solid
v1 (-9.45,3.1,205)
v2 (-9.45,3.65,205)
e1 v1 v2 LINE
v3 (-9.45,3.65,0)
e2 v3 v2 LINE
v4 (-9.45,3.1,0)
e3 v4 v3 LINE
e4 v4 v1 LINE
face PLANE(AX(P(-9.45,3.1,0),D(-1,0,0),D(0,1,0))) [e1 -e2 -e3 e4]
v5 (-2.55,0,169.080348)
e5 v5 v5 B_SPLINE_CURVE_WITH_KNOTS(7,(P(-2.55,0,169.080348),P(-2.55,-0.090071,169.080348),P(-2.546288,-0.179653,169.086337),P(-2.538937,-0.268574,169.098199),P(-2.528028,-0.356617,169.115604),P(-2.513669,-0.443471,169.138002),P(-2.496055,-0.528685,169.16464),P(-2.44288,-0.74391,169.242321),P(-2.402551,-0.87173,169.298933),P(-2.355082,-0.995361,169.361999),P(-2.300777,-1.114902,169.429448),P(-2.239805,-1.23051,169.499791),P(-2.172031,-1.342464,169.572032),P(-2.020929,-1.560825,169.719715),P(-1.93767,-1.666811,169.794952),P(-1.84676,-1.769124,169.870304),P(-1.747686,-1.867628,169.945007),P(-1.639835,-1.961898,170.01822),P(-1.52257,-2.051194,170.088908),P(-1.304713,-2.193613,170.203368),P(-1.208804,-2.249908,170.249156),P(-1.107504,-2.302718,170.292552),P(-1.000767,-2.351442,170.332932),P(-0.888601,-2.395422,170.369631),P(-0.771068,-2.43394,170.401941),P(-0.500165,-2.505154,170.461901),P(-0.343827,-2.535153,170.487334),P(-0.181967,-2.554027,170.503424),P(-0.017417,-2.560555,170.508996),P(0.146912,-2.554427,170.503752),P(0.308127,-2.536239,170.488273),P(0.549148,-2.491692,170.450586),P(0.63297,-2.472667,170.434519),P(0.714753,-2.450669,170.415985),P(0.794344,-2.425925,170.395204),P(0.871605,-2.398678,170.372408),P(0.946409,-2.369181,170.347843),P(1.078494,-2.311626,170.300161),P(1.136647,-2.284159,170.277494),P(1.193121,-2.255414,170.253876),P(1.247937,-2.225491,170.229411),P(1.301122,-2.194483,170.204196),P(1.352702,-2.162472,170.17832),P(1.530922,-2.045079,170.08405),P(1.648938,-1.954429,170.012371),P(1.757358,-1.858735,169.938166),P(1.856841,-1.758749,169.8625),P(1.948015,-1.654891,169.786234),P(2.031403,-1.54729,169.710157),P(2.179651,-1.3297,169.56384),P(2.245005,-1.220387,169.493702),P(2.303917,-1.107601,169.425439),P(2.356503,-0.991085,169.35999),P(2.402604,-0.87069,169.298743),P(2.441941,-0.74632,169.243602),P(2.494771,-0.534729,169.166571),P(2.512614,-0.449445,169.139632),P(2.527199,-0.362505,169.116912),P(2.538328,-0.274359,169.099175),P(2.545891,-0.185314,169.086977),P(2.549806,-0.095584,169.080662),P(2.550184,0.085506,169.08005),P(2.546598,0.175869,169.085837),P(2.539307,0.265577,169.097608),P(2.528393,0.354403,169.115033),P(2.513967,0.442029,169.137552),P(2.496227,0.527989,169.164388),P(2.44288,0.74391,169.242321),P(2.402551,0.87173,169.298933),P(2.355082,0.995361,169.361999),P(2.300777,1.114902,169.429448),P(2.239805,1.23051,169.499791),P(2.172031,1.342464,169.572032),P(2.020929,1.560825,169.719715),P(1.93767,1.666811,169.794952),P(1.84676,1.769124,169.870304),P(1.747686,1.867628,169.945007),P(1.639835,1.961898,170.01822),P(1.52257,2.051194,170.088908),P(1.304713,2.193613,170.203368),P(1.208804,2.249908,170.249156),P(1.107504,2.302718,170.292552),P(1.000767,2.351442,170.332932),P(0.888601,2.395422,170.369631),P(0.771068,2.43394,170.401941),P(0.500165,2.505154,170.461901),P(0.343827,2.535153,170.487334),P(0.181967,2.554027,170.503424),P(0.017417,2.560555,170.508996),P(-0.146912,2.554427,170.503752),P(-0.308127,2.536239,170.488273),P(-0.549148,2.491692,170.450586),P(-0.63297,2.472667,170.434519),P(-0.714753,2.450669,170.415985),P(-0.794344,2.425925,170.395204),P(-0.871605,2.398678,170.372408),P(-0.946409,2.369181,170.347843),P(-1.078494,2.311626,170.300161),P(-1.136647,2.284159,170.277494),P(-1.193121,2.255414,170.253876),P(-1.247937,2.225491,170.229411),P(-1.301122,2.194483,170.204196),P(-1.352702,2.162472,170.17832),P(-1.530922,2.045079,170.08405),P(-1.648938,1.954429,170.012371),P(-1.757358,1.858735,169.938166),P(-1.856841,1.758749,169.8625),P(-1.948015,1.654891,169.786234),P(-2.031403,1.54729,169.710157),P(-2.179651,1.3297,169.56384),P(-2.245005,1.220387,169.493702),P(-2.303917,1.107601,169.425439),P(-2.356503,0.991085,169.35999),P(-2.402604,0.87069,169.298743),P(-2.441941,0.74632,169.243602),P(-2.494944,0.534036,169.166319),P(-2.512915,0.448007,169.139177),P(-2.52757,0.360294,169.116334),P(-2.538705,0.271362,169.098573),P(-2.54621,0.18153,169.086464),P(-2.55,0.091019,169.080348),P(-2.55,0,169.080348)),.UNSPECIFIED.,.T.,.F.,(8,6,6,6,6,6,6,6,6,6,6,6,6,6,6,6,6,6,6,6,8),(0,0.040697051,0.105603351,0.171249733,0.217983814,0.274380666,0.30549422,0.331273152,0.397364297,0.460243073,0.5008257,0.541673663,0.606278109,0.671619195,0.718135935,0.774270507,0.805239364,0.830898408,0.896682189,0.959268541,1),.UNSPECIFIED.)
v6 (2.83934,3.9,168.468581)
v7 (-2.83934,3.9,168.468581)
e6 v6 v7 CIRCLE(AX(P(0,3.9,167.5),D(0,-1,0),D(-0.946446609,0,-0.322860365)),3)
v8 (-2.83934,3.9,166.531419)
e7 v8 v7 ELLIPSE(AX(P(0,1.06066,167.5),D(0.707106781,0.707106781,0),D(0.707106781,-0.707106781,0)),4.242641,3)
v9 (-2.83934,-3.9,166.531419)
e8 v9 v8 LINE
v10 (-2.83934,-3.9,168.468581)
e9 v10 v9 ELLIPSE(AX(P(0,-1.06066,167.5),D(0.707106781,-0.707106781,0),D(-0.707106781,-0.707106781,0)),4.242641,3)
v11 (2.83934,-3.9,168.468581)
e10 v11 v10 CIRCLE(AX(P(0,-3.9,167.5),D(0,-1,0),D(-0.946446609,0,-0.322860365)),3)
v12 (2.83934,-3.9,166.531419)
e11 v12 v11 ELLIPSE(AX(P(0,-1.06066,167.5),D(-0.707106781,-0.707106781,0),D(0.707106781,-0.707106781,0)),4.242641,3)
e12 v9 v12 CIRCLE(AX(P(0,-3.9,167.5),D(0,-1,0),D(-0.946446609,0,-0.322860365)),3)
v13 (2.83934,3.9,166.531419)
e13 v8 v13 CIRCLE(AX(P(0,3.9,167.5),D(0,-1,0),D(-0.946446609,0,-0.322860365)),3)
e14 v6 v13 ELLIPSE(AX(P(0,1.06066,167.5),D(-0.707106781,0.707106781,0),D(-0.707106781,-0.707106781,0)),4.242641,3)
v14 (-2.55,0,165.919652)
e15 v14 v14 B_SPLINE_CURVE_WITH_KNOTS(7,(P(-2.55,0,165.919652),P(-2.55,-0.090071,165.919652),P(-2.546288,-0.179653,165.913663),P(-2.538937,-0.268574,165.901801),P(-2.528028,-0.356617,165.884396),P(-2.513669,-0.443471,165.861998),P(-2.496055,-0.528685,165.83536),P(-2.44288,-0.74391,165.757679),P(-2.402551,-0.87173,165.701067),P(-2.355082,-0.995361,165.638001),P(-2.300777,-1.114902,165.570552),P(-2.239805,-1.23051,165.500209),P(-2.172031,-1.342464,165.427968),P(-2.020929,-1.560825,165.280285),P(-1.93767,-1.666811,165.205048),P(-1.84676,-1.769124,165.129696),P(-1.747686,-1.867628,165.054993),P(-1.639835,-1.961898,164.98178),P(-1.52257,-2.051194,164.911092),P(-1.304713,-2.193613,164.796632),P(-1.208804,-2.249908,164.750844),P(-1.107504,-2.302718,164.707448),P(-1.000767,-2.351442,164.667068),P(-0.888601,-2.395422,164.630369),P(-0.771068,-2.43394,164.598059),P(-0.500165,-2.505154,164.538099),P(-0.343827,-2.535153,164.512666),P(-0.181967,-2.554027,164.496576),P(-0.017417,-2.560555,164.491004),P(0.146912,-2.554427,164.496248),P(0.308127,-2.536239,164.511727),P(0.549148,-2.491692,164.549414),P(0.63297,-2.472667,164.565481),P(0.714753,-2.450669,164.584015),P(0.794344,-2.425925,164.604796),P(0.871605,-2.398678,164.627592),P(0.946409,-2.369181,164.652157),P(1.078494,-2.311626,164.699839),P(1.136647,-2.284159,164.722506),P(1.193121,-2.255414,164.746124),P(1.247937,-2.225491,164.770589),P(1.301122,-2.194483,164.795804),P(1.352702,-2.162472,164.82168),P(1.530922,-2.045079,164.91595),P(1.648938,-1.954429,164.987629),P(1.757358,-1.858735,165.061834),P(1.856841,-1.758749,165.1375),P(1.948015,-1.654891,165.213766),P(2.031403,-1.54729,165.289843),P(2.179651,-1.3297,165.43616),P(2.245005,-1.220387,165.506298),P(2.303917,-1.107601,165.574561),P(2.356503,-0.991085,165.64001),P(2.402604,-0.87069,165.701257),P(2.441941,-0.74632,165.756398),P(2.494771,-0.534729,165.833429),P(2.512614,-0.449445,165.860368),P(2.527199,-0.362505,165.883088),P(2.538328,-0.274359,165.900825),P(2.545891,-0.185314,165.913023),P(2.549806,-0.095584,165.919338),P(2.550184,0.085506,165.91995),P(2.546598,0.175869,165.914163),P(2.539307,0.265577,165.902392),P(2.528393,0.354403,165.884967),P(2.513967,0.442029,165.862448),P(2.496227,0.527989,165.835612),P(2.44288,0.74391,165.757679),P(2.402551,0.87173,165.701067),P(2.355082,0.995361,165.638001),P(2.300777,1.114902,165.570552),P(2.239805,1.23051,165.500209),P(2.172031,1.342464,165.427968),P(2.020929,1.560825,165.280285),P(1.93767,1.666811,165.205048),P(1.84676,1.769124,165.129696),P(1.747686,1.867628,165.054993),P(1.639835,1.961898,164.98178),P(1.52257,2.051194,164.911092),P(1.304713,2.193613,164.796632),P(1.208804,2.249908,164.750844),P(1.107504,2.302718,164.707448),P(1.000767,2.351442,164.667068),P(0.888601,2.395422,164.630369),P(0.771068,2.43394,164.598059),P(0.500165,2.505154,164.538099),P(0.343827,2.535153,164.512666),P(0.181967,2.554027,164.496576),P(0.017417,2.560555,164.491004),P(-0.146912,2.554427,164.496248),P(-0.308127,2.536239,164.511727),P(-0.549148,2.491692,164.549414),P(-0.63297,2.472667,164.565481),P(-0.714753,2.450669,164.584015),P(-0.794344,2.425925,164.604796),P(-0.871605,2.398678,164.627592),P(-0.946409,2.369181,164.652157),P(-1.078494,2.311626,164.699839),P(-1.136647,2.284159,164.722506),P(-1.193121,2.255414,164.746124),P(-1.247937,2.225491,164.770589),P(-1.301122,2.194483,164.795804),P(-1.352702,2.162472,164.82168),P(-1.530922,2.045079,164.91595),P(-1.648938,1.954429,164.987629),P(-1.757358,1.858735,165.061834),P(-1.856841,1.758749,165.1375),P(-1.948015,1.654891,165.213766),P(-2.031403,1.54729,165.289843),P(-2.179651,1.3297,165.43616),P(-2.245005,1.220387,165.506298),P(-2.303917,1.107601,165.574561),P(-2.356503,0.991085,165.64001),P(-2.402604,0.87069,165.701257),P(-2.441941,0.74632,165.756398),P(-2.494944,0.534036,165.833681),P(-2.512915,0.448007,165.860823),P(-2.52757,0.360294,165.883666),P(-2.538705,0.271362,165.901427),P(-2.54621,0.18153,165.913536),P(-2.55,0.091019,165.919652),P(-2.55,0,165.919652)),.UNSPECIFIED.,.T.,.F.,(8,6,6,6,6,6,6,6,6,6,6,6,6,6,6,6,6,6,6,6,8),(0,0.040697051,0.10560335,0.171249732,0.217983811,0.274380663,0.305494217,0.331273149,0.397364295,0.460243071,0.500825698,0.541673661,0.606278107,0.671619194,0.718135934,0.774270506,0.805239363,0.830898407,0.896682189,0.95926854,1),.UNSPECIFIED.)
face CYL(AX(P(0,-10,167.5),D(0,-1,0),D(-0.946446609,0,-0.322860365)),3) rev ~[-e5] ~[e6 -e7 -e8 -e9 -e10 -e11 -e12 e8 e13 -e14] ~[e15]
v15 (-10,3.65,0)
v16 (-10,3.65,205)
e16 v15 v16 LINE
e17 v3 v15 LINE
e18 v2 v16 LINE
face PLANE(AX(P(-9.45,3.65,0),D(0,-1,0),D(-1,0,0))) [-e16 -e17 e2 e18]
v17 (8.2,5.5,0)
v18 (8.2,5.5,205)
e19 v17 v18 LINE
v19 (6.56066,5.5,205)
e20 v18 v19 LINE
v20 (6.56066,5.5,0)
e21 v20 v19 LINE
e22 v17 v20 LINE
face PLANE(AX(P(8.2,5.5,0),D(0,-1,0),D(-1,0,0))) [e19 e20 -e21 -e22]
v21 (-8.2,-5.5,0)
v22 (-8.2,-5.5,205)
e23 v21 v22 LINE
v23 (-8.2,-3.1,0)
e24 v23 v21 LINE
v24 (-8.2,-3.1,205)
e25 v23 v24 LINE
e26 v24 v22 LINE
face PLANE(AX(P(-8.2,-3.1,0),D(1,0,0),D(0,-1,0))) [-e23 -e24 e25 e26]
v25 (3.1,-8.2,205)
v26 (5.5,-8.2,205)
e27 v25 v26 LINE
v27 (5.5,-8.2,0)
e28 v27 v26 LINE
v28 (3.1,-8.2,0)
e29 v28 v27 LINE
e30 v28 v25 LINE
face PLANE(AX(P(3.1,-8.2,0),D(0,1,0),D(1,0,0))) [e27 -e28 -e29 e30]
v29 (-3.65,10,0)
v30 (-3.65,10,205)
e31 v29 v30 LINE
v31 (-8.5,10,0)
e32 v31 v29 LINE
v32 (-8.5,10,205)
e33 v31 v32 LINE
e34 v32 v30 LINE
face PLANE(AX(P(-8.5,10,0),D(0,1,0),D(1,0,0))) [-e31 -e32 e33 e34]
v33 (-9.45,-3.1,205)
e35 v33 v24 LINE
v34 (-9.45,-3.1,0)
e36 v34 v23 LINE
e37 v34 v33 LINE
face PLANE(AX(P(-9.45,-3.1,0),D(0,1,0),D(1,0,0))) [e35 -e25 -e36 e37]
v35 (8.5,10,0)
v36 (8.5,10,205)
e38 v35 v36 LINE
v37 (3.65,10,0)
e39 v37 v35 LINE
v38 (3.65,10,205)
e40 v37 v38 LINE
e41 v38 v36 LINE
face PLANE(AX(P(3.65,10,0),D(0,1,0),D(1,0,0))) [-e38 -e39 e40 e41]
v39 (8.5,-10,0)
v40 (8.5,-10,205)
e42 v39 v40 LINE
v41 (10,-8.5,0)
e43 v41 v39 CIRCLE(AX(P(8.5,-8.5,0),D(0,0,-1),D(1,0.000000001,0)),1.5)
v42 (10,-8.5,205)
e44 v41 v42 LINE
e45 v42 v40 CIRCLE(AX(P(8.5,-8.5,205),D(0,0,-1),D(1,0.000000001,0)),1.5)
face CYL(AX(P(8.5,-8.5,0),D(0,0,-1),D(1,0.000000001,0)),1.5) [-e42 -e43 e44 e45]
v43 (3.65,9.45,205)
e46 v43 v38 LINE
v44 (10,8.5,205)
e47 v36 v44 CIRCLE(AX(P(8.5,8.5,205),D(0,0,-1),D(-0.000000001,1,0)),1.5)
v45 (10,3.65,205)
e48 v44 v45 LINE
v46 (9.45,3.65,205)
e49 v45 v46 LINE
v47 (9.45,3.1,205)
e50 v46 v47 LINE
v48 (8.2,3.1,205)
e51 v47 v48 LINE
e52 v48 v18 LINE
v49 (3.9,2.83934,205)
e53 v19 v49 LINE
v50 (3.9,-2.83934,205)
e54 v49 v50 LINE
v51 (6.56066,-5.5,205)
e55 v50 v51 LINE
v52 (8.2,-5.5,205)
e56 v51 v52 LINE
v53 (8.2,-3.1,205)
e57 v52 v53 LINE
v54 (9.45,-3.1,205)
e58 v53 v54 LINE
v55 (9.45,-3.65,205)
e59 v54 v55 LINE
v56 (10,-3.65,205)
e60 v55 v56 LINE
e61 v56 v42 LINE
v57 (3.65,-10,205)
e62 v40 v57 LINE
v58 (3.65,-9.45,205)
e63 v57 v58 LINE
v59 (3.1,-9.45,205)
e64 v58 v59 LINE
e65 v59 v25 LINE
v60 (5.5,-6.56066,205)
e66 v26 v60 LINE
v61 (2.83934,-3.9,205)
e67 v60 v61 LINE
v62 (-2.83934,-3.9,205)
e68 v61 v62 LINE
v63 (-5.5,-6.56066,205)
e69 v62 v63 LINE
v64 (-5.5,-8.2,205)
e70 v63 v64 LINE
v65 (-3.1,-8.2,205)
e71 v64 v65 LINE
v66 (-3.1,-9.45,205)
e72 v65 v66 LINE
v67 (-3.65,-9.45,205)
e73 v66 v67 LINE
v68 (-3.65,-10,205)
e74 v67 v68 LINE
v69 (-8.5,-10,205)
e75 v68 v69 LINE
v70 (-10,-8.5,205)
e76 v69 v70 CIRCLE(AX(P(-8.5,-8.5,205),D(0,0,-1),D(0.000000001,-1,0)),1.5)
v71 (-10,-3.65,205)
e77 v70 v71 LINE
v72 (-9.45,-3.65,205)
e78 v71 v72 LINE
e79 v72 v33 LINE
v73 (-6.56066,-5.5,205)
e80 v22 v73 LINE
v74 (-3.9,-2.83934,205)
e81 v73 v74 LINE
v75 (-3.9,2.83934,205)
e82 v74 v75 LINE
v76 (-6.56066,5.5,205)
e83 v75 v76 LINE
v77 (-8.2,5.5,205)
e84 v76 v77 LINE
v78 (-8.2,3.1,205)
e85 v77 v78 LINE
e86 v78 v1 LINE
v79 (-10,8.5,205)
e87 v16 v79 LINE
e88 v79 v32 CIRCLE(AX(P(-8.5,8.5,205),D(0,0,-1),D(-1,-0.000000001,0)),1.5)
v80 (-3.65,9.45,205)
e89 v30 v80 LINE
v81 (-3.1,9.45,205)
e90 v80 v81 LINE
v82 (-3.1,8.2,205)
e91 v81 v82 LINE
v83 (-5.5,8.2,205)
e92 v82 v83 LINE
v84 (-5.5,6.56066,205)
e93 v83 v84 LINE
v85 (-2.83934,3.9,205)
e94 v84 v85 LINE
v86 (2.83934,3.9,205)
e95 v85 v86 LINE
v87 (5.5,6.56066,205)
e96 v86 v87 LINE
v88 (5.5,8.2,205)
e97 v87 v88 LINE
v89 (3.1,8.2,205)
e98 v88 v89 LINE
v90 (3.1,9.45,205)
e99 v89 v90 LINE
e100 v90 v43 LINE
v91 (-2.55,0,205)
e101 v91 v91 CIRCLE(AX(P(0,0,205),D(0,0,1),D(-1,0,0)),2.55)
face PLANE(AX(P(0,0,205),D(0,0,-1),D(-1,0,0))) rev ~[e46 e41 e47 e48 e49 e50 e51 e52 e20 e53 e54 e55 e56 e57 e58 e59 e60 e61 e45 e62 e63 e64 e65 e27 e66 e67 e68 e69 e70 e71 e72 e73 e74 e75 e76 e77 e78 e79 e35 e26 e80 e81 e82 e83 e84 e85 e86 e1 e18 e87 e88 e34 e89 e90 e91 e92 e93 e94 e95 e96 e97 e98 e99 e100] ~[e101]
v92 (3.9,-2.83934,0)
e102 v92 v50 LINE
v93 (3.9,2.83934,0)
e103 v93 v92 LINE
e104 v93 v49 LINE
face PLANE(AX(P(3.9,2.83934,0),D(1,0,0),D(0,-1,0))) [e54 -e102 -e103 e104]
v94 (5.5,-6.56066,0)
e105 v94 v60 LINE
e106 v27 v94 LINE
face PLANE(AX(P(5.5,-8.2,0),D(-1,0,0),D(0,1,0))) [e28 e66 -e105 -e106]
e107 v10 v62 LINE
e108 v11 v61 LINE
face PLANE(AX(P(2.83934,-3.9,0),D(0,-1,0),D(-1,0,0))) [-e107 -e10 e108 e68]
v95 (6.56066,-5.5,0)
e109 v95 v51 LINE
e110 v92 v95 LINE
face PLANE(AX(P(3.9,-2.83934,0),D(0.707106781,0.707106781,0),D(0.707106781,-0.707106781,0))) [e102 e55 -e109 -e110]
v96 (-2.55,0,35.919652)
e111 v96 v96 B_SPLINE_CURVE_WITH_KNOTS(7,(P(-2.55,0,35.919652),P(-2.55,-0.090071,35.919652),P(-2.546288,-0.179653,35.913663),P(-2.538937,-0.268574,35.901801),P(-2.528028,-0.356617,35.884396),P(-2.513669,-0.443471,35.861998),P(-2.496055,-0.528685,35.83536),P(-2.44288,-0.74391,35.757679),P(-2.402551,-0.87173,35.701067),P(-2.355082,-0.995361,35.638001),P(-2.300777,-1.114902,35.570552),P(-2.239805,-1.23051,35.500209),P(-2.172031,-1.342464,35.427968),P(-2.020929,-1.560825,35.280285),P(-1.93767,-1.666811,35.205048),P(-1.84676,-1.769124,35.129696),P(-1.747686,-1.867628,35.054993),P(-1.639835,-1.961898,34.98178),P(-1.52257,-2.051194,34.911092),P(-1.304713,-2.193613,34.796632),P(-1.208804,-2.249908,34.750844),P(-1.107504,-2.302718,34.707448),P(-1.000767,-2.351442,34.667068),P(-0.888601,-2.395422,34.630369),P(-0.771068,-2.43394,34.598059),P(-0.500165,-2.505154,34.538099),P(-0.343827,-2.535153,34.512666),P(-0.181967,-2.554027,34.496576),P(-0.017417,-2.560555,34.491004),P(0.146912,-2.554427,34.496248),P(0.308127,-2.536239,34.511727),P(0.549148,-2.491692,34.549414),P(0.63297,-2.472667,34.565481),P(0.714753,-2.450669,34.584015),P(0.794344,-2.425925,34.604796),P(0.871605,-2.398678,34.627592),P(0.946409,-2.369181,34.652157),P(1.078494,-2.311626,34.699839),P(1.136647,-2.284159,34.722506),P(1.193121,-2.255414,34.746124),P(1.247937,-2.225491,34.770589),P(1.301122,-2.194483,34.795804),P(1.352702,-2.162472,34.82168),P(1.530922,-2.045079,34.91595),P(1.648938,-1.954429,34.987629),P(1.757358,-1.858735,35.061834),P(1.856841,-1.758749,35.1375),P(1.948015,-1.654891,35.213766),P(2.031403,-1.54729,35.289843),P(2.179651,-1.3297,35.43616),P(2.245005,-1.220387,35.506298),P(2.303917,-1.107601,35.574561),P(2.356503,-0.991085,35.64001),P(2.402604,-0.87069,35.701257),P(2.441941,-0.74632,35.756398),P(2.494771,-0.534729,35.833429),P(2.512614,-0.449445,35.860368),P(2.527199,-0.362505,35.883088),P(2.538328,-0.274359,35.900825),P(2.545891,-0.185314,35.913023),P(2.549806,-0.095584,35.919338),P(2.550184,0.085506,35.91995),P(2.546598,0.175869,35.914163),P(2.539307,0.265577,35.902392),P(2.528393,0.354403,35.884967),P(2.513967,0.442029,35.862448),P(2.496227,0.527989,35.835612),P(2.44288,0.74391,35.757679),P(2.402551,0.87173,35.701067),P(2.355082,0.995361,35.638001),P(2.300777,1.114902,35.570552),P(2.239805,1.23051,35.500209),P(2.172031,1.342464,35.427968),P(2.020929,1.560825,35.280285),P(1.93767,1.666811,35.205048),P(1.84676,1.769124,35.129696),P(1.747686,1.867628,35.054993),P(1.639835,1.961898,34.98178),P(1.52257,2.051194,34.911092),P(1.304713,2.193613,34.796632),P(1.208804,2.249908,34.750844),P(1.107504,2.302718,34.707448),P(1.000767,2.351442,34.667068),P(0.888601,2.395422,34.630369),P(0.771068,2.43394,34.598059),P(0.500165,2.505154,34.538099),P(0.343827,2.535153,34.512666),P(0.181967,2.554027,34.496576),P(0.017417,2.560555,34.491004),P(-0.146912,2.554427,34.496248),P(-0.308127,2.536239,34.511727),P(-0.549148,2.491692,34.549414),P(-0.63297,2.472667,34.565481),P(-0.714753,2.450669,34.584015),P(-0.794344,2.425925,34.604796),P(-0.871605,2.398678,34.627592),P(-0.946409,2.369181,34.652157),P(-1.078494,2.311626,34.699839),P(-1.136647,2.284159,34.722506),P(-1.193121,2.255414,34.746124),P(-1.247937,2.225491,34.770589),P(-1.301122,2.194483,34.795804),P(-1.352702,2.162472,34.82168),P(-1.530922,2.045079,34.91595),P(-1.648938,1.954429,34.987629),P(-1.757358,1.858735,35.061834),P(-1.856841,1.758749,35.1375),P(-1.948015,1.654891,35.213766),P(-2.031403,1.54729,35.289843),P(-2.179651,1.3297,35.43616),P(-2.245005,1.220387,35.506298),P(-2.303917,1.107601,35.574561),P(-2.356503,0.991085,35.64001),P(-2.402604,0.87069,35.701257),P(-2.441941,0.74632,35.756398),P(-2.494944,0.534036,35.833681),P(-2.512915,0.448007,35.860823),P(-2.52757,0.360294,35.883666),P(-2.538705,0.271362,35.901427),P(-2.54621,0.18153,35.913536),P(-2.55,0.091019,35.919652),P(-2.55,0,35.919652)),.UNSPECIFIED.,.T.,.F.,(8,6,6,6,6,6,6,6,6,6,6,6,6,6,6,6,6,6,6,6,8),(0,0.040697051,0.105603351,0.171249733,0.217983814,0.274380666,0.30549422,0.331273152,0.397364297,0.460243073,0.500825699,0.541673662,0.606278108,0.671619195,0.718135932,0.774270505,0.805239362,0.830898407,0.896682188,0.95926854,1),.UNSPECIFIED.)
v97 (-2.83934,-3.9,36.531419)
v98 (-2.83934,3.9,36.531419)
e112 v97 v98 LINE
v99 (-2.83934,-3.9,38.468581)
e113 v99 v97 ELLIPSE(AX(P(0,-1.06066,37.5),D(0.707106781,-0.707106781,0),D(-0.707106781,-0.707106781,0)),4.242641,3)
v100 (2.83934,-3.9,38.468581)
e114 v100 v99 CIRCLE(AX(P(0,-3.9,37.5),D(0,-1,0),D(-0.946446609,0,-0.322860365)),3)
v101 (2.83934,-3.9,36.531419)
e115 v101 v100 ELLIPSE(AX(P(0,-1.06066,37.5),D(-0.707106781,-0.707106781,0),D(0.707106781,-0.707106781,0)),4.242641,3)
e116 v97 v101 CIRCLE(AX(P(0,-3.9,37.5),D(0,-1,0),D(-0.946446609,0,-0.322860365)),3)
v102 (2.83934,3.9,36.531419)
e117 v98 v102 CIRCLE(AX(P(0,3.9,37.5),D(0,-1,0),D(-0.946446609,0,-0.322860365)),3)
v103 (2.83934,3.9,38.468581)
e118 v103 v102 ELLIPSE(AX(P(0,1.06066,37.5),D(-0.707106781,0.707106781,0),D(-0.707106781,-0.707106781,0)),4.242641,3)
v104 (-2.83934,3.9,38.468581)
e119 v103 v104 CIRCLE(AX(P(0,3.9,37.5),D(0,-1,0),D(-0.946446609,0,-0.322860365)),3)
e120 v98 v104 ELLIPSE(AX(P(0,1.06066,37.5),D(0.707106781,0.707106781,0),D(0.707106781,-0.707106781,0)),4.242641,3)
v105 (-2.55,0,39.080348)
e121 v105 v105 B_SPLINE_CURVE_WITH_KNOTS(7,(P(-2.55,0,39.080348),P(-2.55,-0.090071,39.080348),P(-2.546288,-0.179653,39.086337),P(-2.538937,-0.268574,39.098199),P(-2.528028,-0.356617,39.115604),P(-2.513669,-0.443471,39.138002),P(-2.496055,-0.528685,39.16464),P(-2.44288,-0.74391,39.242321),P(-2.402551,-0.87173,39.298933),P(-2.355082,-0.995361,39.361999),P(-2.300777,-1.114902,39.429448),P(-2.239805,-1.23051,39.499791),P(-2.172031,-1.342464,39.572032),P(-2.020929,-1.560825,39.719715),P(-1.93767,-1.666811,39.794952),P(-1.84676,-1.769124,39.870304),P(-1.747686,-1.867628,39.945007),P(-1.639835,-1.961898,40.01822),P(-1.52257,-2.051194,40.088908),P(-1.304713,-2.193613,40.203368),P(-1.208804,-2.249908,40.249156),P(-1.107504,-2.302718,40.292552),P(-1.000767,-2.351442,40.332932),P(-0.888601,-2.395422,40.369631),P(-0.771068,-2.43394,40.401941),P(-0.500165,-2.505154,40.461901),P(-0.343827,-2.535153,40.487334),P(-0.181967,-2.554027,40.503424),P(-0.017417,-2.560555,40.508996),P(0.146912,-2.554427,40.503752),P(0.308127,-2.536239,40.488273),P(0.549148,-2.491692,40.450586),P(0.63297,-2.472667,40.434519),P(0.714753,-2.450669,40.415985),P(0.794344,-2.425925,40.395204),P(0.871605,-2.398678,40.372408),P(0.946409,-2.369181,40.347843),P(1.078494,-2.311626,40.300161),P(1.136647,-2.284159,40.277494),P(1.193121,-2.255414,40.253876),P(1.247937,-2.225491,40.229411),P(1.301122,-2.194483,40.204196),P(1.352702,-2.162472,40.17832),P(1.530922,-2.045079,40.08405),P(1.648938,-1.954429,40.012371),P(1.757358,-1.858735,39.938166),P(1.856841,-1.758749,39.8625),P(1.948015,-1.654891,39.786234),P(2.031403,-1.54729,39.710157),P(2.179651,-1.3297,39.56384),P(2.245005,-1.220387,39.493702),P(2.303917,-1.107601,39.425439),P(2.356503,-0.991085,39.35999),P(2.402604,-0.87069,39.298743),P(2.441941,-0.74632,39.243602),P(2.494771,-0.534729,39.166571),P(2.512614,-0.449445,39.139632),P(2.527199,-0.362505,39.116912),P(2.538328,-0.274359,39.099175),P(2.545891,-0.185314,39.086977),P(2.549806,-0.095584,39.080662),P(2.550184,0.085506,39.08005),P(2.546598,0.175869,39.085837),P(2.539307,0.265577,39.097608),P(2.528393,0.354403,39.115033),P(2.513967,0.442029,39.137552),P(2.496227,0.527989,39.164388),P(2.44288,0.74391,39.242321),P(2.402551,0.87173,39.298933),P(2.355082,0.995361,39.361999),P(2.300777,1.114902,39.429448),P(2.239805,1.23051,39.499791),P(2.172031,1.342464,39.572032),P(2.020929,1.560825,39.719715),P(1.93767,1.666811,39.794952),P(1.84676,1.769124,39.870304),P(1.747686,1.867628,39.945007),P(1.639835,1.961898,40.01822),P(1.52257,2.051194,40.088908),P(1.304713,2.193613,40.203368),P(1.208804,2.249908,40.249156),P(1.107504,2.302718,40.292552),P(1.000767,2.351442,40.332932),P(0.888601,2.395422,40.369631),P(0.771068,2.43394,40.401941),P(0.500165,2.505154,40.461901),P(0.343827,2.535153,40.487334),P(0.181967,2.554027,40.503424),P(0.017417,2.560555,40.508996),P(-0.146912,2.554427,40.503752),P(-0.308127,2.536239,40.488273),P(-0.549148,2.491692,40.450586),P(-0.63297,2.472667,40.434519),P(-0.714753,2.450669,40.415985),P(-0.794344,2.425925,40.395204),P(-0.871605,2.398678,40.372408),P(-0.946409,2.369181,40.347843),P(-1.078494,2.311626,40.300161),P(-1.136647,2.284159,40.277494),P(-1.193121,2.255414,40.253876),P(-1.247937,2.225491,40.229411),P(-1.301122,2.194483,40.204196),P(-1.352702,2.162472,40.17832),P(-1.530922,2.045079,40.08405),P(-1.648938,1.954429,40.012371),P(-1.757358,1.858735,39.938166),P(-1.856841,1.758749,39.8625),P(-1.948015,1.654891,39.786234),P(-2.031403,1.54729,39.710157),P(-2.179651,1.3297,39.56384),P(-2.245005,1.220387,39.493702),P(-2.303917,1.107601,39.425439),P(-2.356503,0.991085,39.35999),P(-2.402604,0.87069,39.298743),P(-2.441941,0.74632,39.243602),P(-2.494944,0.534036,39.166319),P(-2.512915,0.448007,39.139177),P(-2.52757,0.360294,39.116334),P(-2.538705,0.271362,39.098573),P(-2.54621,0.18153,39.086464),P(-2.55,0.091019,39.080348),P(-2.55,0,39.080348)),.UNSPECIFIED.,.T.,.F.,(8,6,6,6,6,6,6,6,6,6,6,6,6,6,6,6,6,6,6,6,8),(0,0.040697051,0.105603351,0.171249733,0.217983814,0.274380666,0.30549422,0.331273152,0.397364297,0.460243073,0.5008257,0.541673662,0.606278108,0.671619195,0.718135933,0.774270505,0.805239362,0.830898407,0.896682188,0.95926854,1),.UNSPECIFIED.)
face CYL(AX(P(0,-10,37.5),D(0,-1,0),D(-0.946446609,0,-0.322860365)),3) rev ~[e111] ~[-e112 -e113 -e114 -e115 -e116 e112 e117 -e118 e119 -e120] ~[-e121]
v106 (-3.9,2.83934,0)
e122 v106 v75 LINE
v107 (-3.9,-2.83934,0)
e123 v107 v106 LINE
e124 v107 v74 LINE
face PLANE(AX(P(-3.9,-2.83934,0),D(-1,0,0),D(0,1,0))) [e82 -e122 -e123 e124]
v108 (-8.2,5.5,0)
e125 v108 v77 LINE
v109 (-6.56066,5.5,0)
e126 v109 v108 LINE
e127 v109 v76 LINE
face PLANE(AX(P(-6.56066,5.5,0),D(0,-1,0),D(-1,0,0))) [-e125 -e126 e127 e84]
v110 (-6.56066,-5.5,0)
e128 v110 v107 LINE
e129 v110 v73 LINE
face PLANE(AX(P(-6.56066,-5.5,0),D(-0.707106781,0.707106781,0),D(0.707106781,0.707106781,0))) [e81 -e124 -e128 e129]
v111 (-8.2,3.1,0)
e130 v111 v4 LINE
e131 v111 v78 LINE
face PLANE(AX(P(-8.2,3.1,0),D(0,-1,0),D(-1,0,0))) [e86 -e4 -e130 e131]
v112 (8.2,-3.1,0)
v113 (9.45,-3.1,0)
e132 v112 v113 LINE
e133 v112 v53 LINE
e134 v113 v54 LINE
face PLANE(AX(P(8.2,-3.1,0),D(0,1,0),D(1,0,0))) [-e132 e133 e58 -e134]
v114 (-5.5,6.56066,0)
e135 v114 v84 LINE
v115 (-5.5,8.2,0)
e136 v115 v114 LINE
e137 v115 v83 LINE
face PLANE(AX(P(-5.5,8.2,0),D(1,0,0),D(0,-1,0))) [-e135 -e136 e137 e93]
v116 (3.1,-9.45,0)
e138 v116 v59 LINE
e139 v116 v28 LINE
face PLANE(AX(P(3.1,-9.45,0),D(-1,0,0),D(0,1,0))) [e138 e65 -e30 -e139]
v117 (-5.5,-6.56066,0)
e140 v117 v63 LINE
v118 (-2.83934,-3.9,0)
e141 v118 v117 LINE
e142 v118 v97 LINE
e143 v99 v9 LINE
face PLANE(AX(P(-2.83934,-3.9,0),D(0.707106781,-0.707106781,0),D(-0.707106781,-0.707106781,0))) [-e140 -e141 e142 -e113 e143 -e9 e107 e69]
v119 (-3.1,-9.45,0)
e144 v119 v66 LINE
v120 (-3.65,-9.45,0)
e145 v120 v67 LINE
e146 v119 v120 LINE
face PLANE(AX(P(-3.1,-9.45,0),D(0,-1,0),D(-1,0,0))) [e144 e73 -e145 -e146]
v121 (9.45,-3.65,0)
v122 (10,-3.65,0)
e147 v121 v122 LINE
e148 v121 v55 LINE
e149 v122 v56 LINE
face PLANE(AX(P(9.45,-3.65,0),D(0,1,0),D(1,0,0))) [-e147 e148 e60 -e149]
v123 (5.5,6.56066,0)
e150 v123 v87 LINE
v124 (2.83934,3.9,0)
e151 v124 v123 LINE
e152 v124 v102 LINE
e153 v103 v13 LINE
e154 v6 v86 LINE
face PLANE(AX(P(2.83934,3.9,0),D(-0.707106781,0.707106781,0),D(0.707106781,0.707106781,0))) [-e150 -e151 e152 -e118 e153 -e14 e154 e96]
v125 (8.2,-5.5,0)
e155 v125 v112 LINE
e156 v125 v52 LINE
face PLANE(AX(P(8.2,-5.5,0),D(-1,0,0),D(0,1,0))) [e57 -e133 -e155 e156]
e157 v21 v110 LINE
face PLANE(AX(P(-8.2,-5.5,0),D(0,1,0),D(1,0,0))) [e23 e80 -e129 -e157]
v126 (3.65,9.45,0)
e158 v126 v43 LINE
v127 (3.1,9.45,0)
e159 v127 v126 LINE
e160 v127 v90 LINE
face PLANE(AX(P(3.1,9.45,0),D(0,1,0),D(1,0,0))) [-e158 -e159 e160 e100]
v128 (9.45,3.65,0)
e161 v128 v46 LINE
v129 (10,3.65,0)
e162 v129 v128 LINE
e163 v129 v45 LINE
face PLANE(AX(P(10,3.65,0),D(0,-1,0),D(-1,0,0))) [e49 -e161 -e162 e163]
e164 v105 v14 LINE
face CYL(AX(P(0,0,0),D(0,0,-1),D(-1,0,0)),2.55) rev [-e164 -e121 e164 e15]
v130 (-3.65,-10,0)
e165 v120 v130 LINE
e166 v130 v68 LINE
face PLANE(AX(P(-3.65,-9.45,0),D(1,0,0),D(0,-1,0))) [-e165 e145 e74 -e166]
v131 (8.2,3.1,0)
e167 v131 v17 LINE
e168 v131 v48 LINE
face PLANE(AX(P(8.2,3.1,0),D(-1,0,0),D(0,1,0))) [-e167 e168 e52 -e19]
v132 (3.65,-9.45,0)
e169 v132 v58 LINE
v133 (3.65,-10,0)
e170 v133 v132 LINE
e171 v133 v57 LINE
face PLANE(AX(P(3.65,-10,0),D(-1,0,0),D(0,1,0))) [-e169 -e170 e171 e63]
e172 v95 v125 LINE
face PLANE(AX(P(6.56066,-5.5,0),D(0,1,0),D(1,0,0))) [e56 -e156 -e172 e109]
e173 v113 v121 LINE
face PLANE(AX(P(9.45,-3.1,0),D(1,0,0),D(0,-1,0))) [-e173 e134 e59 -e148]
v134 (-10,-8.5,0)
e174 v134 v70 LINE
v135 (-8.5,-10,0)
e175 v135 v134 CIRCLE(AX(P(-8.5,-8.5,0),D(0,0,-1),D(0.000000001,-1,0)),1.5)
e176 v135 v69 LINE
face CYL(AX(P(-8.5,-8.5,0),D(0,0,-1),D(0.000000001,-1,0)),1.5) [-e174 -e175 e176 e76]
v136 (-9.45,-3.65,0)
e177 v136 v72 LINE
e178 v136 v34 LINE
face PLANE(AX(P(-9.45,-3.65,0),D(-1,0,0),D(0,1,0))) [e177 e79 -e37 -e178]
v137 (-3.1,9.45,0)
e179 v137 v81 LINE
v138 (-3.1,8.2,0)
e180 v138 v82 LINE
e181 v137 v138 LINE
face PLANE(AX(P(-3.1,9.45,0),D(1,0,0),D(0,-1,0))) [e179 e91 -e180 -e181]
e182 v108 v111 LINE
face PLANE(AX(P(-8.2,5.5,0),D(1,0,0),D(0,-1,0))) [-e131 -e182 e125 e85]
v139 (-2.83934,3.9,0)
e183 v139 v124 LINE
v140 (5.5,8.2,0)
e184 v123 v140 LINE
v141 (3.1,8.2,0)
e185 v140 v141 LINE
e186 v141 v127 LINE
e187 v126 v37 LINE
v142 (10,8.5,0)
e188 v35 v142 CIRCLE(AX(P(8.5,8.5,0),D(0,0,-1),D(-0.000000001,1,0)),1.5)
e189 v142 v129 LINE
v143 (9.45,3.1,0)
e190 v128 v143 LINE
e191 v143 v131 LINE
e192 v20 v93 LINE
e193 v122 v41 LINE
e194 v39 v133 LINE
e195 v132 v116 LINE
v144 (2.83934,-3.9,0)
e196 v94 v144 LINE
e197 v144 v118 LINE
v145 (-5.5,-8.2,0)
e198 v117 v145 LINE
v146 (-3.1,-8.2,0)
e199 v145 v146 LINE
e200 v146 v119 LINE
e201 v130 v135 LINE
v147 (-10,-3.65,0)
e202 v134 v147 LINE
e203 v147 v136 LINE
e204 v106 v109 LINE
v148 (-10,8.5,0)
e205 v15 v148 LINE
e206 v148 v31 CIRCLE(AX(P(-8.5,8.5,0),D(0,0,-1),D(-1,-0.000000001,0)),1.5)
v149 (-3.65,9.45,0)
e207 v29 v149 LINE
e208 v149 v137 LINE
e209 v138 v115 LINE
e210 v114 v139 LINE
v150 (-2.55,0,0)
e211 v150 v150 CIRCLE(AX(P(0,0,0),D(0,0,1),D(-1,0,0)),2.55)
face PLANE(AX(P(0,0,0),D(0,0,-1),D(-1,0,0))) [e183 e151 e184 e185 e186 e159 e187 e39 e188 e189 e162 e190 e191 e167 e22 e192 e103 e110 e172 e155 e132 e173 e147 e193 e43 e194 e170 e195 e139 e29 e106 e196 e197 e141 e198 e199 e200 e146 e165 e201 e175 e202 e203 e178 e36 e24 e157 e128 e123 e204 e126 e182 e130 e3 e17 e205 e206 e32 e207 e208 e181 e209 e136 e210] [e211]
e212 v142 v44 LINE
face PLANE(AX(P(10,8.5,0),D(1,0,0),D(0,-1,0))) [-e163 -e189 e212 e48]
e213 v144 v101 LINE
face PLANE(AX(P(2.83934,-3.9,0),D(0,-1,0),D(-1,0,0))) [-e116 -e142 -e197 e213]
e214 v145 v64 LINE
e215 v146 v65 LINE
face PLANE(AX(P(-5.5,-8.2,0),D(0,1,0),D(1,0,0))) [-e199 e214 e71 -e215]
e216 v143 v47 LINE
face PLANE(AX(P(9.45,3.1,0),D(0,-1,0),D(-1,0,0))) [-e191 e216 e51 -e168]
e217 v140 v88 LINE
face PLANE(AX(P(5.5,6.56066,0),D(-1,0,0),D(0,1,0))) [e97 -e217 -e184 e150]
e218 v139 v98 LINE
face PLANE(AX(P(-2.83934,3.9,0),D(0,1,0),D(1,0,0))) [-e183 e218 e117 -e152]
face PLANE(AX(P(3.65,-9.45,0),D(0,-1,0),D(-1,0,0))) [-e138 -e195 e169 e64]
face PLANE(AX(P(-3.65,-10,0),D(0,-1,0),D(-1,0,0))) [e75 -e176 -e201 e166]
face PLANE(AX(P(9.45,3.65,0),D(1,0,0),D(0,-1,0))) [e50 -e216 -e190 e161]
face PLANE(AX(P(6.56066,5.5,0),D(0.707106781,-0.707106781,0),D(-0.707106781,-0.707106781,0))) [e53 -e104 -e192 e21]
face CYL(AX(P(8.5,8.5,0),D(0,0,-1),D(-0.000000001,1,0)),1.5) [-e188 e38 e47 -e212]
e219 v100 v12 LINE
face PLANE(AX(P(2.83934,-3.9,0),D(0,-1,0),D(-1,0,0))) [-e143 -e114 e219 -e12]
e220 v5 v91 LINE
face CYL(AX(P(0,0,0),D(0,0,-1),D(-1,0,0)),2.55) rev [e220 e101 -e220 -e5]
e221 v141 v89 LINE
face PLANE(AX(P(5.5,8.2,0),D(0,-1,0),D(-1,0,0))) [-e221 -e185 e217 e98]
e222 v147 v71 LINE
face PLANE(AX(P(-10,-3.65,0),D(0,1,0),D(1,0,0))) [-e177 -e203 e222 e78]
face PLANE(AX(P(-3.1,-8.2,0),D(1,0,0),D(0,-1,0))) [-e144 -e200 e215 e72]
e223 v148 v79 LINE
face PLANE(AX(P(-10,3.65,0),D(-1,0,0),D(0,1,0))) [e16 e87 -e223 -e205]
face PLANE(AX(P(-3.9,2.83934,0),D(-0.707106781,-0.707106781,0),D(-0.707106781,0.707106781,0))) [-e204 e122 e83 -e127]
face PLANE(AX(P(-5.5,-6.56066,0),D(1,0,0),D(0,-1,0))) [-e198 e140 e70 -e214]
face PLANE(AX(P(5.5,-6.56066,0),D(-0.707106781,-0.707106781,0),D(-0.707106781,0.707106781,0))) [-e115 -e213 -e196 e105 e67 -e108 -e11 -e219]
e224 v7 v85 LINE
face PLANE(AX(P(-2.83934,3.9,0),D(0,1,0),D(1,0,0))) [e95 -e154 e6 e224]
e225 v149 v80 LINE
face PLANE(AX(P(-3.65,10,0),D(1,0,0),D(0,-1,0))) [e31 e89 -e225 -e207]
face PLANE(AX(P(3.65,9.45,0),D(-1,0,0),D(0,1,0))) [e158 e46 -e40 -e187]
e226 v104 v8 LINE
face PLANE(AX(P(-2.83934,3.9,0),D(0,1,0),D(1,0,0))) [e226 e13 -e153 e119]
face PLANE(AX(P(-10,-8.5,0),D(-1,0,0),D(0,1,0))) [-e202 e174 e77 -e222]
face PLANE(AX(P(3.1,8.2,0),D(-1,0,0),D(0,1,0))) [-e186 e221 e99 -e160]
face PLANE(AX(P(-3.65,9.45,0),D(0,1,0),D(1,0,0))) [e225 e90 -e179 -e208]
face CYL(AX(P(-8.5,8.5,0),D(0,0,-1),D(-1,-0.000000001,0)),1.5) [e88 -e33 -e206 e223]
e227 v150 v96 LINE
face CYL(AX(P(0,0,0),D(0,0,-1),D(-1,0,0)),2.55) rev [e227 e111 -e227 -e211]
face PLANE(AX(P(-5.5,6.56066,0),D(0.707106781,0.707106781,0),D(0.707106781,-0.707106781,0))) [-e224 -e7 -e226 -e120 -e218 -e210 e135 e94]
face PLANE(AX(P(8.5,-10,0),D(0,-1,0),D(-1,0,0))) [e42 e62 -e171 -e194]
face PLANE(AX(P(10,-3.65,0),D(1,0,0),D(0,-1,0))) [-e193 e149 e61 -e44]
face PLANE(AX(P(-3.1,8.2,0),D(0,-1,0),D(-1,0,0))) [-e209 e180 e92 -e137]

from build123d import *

# Parameters (mm, degrees)
SKETCH_2_R          = 2.55
EXTRUDE_1_DEPTH     = 205
SKETCH_3_R          = 3
CUT_EXTRUDE_1_DEPTH = 207.215906273


with BuildPart() as part:
    # 草图2 → 凸台-拉伸1 (new body)
    with BuildSketch(Plane.XY):
        with BuildLine():
            Line((-3.9, 2.839339828), (-6.560660172, 5.5))
            Line((-6.560660172, 5.5), (-8.2, 5.5))
            Line((-8.2, 5.5), (-8.2, 3.1))
            Line((-8.2, 3.1), (-9.45, 3.1))
            Line((-9.45, 3.1), (-9.45, 3.65))
            Line((-9.45, 3.65), (-10, 3.65))
            Line((-10, 3.65), (-10, 8.5))
            ThreePointArc((-10, 8.5), (-9.560660172, 9.560660172), (-8.5, 10))
            Line((-8.5, 10), (-3.65, 10))
            Line((-3.65, 10), (-3.65, 9.45))
            Line((-3.65, 9.45), (-3.1, 9.45))
            Line((-3.1, 9.45), (-3.1, 8.2))
            Line((-3.1, 8.2), (-5.5, 8.2))
            Line((-5.5, 8.2), (-5.5, 6.560660172))
            Line((-5.5, 6.560660172), (-2.839339828, 3.9))
            Line((-2.839339828, 3.9), (2.839339828, 3.9))
            Line((2.839339828, 3.9), (5.5, 6.560660172))
            Line((5.5, 6.560660172), (5.5, 8.2))
            Line((5.5, 8.2), (3.1, 8.2))
            Line((3.1, 8.2), (3.1, 9.45))
            Line((3.1, 9.45), (3.65, 9.45))
            Line((3.65, 9.45), (3.65, 10))
            Line((3.65, 10), (8.5, 10))
            ThreePointArc((8.5, 10), (9.560660172, 9.560660172), (10, 8.5))
            Line((10, 8.5), (10, 3.65))
            Line((10, 3.65), (9.45, 3.65))
            Line((9.45, 3.65), (9.45, 3.1))
            Line((9.45, 3.1), (8.2, 3.1))
            Line((8.2, 3.1), (8.2, 5.5))
            Line((8.2, 5.5), (6.560660172, 5.5))
            Line((6.560660172, 5.5), (3.9, 2.839339828))
            Line((3.9, 2.839339828), (3.9, -2.839339828))
            Line((3.9, -2.839339828), (6.560660172, -5.5))
            Line((6.560660172, -5.5), (8.2, -5.5))
            Line((8.2, -5.5), (8.2, -3.1))
            Line((8.2, -3.1), (9.45, -3.1))
            Line((9.45, -3.1), (9.45, -3.65))
            Line((9.45, -3.65), (10, -3.65))
            Line((10, -3.65), (10, -8.5))
            ThreePointArc((10, -8.5), (9.560660172, -9.560660172), (8.5, -10))
            Line((8.5, -10), (3.65, -10))
            Line((3.65, -10), (3.65, -9.45))
            Line((3.65, -9.45), (3.1, -9.45))
            Line((3.1, -9.45), (3.1, -8.2))
            Line((3.1, -8.2), (5.5, -8.2))
            Line((5.5, -8.2), (5.5, -6.560660172))
            Line((5.5, -6.560660172), (2.839339828, -3.9))
            Line((2.839339828, -3.9), (-2.839339828, -3.9))
            Line((-2.839339828, -3.9), (-5.5, -6.560660172))
            Line((-5.5, -6.560660172), (-5.5, -8.2))
            Line((-5.5, -8.2), (-3.1, -8.2))
            Line((-3.1, -8.2), (-3.1, -9.45))
            Line((-3.1, -9.45), (-3.65, -9.45))
            Line((-3.65, -9.45), (-3.65, -10))
            Line((-3.65, -10), (-8.5, -10))
            ThreePointArc((-8.5, -10), (-9.560660172, -9.560660172), (-10, -8.5))
            Line((-10, -8.5), (-10, -3.65))
            Line((-10, -3.65), (-9.45, -3.65))
            Line((-9.45, -3.65), (-9.45, -3.1))
            Line((-9.45, -3.1), (-8.2, -3.1))
            Line((-8.2, -3.1), (-8.2, -5.5))
            Line((-8.2, -5.5), (-6.560660172, -5.5))
            Line((-6.560660172, -5.5), (-3.9, -2.839339828))
            Line((-3.9, -2.839339828), (-3.9, 2.839339828))
        make_face()
        with Locations(Location((0, 0, 0), (0, 0, 180))):
            Circle(SKETCH_2_R, mode=Mode.SUBTRACT)
    extrude(amount=EXTRUDE_1_DEPTH)

    # 草图3 → 切除-拉伸1 (cut, through all)
    with BuildSketch(Plane.XZ.offset(10)):
        with Locations(Location((0, 167.5, 0), (0, 0, 198.835996158))):
            Circle(SKETCH_3_R)
        with Locations(Location((0, 37.5, 0), (0, 0, 198.835996158))):
            Circle(SKETCH_3_R)
    extrude(amount=-CUT_EXTRUDE_1_DEPTH, mode=Mode.SUBTRACT)


solid = part.part
